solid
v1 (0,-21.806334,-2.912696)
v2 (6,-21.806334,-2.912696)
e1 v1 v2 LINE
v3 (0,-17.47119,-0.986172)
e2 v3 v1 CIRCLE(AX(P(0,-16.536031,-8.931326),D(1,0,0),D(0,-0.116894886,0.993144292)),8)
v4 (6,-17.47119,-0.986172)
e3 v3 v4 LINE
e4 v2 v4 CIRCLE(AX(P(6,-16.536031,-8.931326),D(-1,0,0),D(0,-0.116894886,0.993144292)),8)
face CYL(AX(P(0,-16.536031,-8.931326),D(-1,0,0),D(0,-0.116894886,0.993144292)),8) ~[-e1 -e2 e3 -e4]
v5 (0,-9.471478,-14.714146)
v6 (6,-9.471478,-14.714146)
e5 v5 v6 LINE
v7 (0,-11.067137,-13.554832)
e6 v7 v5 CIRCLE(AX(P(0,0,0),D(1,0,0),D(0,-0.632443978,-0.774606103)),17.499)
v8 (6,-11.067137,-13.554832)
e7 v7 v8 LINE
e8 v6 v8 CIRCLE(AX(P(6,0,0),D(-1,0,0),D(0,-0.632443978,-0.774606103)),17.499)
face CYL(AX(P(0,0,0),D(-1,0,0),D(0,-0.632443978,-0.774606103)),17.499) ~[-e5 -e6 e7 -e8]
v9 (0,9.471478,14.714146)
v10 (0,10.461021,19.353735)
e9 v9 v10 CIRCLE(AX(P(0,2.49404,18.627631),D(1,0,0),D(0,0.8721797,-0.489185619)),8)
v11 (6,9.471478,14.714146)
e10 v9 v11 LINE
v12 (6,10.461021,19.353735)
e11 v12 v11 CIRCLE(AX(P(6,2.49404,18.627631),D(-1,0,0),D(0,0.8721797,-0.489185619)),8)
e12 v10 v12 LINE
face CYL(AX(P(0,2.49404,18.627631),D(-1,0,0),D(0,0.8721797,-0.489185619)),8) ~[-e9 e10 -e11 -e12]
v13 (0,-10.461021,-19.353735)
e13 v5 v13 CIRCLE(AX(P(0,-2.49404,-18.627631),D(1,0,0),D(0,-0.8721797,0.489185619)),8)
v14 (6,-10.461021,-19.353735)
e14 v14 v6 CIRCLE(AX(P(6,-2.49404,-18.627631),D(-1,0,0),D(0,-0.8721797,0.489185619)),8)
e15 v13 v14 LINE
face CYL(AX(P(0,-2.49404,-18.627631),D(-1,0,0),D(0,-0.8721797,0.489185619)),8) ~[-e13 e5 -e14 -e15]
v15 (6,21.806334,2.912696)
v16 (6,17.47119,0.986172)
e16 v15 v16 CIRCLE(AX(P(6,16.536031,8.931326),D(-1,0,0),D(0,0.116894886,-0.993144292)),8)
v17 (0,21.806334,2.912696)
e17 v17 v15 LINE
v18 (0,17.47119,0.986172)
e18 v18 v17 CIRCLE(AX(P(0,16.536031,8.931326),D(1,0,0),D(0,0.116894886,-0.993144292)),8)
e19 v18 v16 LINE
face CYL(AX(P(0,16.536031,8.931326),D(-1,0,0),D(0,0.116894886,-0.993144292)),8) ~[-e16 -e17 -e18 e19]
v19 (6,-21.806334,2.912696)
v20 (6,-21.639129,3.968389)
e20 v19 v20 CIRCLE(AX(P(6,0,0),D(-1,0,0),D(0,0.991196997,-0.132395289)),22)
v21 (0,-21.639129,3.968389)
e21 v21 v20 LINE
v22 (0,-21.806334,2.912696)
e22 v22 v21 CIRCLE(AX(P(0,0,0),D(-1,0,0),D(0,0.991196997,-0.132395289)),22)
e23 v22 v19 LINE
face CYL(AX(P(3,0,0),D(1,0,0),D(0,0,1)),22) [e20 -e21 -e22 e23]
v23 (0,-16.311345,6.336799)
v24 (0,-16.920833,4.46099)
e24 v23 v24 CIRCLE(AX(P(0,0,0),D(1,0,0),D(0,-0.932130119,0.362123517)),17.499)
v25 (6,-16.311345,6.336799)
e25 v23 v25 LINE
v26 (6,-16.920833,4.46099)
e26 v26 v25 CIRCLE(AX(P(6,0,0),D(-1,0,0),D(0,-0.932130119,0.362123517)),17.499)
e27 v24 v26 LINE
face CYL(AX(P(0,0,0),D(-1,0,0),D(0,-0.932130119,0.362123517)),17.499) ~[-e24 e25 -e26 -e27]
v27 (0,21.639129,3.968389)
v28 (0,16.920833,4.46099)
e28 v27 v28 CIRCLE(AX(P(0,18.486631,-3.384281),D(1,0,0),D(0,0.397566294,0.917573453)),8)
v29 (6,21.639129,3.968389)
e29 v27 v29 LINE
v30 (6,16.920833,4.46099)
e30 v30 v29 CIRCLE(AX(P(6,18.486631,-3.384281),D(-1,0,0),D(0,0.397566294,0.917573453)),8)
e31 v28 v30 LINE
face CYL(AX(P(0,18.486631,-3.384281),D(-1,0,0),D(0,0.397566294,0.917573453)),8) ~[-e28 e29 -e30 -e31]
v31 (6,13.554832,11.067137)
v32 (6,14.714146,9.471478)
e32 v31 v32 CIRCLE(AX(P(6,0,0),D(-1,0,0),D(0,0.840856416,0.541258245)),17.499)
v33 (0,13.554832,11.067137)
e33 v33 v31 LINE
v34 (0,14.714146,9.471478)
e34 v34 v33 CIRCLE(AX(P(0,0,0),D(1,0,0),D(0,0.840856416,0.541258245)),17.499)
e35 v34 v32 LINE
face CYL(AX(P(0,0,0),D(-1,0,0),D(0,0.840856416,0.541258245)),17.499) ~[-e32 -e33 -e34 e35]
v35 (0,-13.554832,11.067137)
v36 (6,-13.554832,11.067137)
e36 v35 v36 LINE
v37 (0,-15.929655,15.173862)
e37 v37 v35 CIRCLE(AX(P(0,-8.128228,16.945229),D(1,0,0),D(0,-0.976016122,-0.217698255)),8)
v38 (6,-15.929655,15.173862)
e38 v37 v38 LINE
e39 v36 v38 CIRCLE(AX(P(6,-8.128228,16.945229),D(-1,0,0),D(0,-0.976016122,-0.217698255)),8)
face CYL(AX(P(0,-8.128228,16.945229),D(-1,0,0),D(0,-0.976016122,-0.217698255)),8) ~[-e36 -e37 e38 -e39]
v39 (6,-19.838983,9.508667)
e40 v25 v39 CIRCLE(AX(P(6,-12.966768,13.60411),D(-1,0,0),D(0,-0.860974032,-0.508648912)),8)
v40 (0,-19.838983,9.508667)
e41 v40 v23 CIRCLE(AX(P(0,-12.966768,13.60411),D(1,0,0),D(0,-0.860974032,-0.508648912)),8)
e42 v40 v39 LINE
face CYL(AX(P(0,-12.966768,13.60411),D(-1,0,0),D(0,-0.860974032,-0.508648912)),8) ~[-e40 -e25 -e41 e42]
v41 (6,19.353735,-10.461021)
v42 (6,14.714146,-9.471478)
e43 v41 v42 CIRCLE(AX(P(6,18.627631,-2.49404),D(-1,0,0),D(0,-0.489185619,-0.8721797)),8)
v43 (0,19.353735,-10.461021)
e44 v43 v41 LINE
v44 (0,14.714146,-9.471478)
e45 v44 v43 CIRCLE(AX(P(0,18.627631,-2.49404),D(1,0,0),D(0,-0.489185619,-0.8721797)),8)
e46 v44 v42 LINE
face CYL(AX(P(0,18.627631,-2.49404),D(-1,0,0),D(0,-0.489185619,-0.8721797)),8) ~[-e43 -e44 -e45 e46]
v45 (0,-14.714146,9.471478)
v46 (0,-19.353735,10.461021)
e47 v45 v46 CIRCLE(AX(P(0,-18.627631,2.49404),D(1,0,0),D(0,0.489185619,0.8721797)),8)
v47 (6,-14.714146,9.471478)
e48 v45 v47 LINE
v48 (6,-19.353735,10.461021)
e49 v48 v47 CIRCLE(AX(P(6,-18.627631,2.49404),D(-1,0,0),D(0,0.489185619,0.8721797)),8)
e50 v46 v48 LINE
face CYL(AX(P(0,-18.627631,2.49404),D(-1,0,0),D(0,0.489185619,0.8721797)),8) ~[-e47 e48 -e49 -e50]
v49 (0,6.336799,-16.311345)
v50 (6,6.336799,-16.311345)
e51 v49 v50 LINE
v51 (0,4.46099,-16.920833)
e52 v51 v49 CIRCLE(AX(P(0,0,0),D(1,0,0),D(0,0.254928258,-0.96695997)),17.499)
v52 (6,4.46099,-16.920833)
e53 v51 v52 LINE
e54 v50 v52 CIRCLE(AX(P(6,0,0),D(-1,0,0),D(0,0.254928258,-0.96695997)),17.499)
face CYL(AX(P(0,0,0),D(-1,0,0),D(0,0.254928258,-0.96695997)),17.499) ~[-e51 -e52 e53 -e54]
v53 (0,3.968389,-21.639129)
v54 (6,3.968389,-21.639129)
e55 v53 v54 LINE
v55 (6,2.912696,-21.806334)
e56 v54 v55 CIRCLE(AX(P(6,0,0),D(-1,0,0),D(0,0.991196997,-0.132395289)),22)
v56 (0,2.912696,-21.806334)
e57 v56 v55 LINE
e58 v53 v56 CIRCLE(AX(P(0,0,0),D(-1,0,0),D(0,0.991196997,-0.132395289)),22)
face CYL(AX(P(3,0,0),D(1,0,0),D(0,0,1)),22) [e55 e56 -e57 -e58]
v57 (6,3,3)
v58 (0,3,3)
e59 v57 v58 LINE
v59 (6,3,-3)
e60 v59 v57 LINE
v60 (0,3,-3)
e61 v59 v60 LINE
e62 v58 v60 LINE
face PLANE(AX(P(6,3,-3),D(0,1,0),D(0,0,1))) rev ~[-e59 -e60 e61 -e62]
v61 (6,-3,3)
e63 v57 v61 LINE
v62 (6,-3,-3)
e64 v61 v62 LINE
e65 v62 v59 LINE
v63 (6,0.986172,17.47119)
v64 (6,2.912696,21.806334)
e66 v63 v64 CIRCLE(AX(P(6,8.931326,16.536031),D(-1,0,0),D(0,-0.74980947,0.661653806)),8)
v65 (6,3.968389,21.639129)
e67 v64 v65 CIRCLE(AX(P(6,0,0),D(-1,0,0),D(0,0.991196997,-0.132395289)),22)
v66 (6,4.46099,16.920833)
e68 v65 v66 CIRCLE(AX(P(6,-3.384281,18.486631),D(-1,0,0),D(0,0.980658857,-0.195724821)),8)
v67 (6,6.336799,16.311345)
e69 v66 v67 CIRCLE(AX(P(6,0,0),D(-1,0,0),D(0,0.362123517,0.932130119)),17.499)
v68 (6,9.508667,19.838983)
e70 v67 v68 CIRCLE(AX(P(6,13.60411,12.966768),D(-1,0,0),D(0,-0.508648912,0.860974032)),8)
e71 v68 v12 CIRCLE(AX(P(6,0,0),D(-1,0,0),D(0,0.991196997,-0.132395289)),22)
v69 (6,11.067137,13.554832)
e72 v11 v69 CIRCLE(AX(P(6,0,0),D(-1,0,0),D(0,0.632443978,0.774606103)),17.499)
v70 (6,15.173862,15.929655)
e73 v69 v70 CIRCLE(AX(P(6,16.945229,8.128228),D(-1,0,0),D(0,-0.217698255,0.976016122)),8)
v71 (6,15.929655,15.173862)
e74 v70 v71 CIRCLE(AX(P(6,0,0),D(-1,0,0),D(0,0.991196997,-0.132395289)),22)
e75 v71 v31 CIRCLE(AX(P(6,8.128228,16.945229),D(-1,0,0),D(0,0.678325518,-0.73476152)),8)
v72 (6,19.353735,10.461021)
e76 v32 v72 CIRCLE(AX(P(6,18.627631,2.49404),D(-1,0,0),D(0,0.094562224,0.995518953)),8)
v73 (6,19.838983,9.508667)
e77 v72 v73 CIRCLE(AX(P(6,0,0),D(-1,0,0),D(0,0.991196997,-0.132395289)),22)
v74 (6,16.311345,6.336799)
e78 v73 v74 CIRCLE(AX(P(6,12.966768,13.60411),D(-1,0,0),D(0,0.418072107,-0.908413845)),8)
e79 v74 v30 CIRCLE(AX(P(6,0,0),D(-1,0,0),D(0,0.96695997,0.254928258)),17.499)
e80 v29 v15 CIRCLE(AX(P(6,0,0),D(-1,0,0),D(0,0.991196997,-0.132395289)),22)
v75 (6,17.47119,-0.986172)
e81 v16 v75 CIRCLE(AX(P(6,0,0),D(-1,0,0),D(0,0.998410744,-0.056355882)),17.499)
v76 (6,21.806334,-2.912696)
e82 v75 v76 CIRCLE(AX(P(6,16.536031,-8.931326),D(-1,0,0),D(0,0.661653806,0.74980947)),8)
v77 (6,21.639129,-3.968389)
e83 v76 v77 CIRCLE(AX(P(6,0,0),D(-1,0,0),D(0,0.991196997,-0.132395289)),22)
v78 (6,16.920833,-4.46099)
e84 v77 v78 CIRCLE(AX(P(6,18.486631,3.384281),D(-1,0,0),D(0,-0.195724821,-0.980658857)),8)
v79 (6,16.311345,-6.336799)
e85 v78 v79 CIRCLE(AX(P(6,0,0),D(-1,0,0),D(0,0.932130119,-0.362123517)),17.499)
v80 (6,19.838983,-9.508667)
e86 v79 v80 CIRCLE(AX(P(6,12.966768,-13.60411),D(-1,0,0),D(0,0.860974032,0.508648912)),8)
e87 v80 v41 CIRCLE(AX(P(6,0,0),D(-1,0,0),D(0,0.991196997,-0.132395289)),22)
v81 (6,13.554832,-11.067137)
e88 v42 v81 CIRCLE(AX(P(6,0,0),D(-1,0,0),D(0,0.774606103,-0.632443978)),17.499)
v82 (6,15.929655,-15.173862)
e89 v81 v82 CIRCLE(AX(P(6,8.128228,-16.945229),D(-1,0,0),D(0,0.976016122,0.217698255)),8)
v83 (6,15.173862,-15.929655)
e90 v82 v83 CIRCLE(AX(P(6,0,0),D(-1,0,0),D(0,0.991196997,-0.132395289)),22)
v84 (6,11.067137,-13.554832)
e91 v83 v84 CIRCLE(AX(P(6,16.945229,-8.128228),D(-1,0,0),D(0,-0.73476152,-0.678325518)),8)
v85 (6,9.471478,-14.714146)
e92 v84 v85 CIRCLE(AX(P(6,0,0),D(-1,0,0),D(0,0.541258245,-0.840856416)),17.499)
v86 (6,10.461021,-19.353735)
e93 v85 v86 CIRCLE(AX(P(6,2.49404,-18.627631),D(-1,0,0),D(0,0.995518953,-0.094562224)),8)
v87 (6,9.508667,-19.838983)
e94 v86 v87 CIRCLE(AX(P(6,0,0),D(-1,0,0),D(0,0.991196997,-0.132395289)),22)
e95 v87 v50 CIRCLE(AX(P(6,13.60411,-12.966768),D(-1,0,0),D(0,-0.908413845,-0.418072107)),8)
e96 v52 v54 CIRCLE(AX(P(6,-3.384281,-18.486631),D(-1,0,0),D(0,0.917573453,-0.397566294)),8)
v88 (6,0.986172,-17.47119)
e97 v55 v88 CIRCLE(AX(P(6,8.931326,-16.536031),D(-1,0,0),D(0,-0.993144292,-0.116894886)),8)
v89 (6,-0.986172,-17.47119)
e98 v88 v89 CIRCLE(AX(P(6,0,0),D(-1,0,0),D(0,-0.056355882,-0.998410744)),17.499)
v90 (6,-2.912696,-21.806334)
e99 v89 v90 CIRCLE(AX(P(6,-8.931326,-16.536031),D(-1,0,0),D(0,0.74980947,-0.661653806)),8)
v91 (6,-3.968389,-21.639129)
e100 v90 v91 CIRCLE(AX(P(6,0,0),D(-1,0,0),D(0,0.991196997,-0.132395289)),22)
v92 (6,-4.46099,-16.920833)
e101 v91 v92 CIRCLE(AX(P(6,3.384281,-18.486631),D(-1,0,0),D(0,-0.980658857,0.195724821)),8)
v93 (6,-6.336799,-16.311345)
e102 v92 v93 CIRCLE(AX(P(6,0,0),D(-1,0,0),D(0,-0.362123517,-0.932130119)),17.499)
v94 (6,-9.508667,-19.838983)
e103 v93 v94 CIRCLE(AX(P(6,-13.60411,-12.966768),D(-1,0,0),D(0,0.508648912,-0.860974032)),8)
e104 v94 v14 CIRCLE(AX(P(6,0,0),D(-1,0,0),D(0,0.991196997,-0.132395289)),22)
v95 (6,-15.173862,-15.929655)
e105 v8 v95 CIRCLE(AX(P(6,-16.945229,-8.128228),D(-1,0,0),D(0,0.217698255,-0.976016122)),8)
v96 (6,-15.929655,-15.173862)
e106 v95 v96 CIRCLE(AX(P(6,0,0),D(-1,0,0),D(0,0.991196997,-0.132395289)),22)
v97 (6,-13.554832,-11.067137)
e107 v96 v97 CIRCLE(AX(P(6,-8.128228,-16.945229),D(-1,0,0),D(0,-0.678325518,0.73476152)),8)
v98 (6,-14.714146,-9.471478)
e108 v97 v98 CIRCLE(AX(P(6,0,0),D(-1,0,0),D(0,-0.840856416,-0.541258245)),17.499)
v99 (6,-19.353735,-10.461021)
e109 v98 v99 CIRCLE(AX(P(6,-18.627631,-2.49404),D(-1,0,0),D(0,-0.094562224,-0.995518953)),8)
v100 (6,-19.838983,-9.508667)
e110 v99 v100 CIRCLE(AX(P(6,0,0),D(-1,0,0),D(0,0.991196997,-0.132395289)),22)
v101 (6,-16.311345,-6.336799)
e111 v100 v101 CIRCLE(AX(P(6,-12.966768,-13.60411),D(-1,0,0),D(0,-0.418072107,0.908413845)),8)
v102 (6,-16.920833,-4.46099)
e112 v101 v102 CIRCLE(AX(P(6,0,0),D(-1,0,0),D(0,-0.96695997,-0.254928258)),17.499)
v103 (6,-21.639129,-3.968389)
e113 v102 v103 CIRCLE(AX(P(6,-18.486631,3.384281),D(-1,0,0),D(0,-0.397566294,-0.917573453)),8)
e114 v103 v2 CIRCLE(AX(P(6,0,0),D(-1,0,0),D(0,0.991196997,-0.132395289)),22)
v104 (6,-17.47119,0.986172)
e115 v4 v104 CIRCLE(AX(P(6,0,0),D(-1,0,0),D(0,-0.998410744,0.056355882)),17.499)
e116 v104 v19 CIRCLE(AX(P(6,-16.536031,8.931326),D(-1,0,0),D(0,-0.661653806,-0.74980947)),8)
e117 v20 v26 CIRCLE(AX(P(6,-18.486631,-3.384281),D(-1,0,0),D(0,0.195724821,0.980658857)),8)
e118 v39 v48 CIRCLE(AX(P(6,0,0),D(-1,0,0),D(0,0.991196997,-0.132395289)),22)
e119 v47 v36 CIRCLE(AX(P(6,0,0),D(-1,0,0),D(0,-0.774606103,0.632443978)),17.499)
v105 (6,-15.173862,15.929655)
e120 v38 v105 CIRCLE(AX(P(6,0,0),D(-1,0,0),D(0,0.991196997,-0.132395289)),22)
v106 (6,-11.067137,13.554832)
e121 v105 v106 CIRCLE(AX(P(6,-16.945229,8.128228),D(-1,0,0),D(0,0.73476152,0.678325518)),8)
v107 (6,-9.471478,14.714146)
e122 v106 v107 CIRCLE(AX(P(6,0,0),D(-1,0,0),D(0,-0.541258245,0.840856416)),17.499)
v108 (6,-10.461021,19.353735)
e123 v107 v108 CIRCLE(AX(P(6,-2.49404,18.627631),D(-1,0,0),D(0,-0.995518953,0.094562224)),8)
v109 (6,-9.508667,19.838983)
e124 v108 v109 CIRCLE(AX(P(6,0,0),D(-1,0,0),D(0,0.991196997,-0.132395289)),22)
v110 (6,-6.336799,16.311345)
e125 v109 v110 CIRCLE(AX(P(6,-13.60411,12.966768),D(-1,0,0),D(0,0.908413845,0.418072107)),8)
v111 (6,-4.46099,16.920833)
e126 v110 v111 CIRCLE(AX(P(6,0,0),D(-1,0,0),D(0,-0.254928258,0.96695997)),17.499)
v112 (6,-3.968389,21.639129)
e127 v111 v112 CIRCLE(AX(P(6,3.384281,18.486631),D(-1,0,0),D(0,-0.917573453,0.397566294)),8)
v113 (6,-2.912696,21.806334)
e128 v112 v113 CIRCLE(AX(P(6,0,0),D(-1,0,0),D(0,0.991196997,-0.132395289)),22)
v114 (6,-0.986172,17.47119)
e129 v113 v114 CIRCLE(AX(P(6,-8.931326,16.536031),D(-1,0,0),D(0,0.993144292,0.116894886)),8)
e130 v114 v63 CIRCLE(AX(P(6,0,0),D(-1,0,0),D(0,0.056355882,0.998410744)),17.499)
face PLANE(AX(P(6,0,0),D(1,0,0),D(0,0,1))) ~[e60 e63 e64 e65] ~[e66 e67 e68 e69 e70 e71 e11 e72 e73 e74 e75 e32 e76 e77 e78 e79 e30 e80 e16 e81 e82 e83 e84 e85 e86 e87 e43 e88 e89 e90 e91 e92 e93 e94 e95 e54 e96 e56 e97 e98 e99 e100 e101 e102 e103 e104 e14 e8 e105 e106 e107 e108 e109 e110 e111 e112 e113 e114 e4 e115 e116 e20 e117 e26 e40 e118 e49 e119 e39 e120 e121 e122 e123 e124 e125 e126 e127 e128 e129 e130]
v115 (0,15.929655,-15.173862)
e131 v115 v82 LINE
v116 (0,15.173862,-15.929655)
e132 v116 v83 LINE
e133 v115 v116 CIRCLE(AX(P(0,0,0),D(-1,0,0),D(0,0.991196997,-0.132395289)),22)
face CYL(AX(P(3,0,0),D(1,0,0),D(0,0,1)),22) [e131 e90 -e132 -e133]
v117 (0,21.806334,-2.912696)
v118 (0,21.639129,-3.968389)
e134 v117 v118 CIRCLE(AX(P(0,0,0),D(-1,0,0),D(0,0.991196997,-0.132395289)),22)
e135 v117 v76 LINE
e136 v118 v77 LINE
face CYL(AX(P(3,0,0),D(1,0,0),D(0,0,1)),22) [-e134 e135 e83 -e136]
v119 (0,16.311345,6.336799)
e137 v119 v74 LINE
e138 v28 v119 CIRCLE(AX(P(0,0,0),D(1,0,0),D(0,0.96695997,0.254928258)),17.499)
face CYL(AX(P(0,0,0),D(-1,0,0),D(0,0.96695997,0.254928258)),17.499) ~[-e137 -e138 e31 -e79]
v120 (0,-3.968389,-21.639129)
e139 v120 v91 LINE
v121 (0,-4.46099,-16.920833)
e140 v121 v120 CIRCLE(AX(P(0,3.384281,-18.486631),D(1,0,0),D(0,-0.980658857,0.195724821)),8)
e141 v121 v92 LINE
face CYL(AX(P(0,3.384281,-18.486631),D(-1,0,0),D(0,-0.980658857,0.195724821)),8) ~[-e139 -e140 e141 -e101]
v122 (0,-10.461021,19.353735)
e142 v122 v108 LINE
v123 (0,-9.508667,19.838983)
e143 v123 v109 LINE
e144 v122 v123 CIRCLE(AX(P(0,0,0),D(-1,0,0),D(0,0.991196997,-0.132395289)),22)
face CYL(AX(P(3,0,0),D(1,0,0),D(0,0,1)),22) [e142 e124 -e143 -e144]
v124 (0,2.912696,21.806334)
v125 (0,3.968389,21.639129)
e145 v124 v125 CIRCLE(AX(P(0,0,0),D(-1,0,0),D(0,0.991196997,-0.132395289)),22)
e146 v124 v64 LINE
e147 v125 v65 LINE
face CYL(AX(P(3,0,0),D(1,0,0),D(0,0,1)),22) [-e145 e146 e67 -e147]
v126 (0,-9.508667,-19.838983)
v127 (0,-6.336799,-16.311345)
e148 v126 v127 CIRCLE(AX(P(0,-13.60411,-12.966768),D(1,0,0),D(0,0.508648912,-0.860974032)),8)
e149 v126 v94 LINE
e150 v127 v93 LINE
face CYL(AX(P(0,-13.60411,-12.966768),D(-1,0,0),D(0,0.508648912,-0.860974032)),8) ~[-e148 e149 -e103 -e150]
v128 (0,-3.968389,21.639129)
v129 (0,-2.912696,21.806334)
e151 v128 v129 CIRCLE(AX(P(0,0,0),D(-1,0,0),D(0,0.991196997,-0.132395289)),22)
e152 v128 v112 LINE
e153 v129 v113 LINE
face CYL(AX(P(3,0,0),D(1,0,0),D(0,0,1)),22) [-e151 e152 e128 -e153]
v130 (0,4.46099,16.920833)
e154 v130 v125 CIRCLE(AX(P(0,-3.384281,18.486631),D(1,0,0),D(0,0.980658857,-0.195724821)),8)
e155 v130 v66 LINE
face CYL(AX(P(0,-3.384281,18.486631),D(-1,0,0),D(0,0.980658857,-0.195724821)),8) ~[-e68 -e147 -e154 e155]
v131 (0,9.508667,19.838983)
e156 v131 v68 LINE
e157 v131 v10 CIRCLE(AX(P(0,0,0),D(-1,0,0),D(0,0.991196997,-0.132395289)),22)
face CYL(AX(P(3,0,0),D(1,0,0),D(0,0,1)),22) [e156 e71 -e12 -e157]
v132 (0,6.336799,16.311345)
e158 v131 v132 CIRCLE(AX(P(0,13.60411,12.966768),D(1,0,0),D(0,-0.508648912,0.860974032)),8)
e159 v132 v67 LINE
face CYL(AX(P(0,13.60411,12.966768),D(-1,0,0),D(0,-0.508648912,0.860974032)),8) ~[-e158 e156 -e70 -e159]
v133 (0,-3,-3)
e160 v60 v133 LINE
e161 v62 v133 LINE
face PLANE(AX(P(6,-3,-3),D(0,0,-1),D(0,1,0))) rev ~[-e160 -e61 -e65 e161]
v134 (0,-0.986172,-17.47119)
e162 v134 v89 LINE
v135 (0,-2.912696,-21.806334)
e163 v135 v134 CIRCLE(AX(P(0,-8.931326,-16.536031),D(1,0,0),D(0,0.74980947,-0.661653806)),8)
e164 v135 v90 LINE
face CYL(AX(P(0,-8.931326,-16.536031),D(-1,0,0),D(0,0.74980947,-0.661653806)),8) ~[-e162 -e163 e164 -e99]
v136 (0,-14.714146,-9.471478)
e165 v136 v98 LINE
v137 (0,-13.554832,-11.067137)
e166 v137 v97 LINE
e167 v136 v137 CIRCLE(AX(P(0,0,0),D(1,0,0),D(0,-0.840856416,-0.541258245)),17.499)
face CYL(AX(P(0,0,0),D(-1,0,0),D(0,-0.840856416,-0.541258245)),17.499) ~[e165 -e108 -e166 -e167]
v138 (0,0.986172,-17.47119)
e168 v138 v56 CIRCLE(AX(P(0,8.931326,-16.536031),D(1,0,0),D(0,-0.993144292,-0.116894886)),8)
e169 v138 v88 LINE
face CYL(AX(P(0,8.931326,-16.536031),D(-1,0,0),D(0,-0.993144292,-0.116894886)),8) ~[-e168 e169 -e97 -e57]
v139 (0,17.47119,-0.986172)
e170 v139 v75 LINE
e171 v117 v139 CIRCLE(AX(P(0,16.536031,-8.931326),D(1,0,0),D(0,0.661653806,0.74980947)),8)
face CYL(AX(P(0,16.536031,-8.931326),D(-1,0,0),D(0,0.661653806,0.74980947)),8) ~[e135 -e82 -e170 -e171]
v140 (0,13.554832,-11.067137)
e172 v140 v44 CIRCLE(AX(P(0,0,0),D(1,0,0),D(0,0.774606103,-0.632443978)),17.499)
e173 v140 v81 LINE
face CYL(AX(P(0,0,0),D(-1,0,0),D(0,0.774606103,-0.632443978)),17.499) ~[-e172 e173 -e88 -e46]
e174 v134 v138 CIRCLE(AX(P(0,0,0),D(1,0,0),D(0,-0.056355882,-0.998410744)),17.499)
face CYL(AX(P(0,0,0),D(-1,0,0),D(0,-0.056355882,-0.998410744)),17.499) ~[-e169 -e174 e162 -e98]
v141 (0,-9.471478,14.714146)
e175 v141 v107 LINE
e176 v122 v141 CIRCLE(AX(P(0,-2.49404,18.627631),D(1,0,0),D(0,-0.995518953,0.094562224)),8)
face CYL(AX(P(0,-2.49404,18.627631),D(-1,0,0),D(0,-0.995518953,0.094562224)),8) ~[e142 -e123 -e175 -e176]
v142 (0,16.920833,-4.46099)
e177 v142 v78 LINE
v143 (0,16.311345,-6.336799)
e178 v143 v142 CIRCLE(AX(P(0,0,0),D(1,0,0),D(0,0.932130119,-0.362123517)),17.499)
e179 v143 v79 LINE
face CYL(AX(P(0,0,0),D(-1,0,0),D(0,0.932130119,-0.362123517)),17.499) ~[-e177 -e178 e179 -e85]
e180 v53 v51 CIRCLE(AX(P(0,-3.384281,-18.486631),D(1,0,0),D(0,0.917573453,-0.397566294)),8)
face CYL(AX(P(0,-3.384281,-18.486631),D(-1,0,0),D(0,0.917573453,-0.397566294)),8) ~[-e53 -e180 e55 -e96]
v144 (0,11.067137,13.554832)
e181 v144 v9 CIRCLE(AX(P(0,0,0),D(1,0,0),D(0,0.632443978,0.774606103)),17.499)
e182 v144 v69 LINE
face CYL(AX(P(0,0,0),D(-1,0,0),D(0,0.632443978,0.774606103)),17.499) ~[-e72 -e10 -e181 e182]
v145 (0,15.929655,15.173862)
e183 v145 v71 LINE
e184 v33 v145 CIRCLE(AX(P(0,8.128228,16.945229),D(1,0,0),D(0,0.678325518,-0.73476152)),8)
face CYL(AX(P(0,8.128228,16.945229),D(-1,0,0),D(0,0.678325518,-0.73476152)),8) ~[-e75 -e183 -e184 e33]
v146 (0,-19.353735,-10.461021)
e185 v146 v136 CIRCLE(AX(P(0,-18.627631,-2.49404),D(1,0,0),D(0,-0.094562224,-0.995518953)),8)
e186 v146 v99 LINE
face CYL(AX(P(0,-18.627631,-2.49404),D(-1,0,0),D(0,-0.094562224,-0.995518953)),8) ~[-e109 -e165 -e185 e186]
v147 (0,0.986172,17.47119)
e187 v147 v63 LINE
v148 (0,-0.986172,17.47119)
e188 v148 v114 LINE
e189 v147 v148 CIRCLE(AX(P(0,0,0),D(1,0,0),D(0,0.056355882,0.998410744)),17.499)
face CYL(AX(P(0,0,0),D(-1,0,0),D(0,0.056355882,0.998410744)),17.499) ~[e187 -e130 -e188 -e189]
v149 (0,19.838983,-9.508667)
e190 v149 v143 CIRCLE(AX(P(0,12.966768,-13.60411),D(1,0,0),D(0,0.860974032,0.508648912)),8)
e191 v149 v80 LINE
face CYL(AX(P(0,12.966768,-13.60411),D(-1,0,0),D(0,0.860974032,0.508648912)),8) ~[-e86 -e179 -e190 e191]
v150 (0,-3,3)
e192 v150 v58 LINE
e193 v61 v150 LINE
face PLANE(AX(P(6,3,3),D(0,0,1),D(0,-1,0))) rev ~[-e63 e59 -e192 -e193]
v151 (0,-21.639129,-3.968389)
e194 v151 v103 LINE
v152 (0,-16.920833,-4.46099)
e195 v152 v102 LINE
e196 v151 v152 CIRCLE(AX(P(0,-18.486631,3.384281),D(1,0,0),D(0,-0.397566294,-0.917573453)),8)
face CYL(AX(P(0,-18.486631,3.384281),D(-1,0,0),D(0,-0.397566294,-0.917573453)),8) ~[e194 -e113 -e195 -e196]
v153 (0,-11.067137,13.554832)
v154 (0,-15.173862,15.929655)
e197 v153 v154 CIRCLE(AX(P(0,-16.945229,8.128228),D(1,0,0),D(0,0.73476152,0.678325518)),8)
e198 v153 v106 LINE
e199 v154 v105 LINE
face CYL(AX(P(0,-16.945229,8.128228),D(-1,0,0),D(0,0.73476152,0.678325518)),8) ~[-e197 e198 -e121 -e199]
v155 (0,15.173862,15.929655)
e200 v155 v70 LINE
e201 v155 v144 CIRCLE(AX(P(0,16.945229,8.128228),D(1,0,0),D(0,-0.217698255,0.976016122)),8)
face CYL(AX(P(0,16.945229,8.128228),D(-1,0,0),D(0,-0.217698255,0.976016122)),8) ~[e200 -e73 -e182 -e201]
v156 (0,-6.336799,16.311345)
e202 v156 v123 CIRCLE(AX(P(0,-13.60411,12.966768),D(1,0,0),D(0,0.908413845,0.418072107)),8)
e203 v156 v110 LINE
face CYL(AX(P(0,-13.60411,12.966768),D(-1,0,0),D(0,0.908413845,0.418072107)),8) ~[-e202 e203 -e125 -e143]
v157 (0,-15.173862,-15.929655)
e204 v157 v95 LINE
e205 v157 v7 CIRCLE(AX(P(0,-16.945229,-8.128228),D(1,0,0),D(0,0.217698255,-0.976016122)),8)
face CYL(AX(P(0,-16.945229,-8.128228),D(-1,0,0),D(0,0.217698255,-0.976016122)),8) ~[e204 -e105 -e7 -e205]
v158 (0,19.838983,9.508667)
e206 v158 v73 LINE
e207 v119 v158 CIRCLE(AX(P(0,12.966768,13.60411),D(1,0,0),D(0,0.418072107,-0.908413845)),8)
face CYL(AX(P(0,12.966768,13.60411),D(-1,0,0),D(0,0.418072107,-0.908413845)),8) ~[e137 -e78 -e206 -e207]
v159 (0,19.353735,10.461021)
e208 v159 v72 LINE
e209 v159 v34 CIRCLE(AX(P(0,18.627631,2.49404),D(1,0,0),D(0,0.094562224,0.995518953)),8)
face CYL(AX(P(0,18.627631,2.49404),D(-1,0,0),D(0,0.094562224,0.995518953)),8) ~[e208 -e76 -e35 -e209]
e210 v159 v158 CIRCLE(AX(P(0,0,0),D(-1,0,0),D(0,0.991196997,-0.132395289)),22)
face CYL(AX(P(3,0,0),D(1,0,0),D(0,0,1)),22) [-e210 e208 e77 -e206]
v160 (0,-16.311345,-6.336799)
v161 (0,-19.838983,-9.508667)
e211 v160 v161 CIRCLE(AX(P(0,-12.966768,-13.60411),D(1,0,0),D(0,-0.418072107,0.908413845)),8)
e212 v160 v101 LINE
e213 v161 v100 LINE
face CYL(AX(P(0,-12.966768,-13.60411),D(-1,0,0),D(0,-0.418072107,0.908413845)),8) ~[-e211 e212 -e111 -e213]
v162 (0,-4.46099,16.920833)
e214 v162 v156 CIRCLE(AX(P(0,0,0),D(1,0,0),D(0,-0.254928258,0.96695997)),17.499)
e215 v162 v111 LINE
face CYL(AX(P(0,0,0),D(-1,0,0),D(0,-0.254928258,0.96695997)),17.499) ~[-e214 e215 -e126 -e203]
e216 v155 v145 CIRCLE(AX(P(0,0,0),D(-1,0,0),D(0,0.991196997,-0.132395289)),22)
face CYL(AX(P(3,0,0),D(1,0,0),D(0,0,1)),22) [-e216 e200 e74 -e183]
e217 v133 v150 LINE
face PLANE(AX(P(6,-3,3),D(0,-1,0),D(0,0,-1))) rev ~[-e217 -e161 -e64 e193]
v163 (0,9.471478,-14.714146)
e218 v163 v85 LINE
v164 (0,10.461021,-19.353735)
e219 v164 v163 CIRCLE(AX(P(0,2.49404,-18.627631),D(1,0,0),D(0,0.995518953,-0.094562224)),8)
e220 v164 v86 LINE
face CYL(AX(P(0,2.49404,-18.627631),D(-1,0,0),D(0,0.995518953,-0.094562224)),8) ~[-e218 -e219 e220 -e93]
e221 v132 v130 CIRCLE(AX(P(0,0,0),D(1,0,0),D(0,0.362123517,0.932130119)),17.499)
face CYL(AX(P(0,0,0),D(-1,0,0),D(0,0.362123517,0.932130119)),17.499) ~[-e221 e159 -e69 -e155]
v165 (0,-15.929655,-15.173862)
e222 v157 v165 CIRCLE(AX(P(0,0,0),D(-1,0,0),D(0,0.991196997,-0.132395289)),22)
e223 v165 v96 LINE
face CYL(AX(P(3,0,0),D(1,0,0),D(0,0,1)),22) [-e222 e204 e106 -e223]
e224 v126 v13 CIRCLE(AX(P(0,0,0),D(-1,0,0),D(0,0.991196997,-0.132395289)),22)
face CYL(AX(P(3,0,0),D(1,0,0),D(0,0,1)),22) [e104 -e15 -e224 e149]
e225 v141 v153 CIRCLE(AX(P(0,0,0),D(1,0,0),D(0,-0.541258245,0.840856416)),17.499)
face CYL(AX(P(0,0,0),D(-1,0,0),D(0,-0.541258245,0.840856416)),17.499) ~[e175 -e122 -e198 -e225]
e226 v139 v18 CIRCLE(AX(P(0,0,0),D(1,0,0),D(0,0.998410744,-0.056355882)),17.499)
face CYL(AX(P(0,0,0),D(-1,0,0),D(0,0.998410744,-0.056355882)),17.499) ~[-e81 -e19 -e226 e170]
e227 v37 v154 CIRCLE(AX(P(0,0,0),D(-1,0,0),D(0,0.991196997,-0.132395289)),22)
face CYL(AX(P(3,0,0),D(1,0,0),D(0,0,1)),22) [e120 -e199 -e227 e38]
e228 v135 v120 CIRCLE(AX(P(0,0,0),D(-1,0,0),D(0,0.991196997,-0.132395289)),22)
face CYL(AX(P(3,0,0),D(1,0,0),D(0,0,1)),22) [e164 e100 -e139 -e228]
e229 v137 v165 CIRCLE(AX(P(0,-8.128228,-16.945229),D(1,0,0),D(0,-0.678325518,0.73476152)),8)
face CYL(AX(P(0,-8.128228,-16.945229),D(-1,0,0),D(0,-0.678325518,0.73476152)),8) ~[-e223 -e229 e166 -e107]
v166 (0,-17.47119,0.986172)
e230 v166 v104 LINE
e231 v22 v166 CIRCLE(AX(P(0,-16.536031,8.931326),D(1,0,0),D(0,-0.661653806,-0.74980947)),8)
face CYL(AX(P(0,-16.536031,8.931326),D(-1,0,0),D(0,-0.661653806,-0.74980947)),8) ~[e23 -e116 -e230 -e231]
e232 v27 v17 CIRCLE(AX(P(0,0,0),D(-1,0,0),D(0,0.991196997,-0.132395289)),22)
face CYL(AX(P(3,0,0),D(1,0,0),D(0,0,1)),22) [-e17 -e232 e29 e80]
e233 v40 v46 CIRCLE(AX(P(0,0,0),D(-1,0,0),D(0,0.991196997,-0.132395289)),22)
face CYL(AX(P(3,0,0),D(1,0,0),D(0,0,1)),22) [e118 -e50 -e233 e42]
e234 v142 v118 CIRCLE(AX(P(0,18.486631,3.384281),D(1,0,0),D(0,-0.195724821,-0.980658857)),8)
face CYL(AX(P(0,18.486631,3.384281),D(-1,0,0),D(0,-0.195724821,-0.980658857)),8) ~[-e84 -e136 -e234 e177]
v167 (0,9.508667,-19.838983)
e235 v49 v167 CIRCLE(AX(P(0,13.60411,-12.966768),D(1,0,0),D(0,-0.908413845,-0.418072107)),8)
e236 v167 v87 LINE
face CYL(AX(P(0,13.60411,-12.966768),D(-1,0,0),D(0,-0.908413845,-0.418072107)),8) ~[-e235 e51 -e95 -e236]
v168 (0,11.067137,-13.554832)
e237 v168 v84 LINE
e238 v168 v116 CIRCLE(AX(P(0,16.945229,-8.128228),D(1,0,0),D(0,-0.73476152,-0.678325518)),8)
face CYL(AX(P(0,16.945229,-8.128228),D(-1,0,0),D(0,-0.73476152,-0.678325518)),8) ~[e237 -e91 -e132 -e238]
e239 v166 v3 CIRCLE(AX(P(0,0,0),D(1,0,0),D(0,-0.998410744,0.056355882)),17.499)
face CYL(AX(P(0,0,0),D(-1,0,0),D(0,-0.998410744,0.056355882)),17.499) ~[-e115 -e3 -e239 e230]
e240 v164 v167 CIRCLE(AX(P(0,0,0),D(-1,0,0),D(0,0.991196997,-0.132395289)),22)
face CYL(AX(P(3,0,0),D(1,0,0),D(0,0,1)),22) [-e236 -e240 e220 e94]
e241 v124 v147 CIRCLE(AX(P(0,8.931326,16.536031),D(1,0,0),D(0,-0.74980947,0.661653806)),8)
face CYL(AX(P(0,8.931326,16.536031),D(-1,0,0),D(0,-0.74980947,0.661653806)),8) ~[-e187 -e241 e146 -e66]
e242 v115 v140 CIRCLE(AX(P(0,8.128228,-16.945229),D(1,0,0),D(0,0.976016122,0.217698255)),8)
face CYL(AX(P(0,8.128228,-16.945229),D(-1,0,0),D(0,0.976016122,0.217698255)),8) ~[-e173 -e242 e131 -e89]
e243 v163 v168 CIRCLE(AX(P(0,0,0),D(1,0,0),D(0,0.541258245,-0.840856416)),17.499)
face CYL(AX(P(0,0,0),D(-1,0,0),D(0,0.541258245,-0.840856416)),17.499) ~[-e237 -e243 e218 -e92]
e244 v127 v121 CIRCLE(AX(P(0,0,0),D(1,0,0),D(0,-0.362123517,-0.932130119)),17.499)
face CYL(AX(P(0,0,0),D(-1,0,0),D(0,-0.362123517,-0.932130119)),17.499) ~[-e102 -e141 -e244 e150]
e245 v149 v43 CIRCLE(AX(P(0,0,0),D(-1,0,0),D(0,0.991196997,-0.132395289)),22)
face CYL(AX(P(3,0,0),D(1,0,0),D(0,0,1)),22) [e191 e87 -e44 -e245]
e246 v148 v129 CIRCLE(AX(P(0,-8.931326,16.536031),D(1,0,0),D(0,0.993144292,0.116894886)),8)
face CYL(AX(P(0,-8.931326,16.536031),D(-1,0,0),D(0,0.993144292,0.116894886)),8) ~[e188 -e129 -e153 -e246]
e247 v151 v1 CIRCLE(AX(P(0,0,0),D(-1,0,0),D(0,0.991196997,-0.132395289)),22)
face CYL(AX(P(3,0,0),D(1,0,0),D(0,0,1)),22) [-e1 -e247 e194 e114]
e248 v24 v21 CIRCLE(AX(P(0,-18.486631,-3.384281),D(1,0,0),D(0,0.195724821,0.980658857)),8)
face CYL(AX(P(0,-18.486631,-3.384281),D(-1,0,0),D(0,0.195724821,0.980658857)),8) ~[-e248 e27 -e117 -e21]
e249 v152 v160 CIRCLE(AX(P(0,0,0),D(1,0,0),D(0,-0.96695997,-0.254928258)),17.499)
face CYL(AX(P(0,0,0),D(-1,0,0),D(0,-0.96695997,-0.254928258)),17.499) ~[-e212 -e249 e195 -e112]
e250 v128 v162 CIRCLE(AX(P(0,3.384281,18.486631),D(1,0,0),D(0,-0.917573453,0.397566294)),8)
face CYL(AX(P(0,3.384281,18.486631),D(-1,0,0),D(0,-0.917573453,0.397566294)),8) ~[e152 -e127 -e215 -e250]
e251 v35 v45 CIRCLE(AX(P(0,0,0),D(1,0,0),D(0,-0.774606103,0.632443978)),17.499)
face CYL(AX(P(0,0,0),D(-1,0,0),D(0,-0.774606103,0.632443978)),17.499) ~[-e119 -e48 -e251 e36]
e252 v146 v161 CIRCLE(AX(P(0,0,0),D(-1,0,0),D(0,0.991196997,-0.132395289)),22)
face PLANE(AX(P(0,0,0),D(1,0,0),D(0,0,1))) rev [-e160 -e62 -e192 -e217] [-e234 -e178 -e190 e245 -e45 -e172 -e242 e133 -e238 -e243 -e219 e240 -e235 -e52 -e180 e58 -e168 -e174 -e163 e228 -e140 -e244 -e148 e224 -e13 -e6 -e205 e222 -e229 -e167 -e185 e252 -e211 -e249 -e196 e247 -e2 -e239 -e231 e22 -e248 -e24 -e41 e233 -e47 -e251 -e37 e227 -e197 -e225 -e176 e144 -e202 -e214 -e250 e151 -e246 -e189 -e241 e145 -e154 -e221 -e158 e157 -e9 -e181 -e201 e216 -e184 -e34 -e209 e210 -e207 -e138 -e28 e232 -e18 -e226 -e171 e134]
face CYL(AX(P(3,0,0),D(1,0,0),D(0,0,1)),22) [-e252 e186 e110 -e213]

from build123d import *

# Parameters (mm, degrees)
BASPROSKE_W           = 6
BASPROSKE_H           = 22
TOOTHCUT_DEPTH        = 32.685959036
TEETHCUTS_COUNT       = 20
TEETHCUTS_ANGLE       = 342
BORSKE_R              = 0.5
BORE_DEPTH            = 50.0000508
CORTAR_EXTRUIR1_DEPTH = 10


with BuildPart() as part:
    # BasProSke → Base-Revolve (revolve)
    with BuildSketch(Plane(origin=(0, 0, 0), x_dir=(1, 0, 0), z_dir=(0, 1, 0)), mode=Mode.PRIVATE) as base_revolve_sk:
        with Locations((3, 11)):
            Rectangle(BASPROSKE_W, BASPROSKE_H)
    revolve(base_revolve_sk.sketch.rotate(Axis((-10, 0, 0), (1, 0, 0)), 180), axis=Axis((-10, 0, 0), (1, 0, 0)))

    # TooCutSke → ToothCut (cut, through all)
    with BuildSketch(Plane(origin=(0, 0, 0), x_dir=(0, 0, -1), z_dir=(1, 0, 0))):
        with BuildLine():
            ThreePointArc((0.986171591, 17.471189616), (0, 17.499), (-0.986171591, 17.471189616))
            ThreePointArc((-0.986171591, 17.471189616), (-1.626916196, 19.798789858), (-2.932850173, 21.829260982))
            ThreePointArc((-2.932850173, 21.829260982), (0, 22.0254), (2.932850173, 21.829260982))
            ThreePointArc((2.932850173, 21.829260982), (1.626916196, 19.798789858), (0.986171591, 17.471189616))
        make_face()
    toothcut = extrude(amount=TOOTHCUT_DEPTH, mode=Mode.SUBTRACT)

    # TeethCuts: ToothCut ×20 about axis
    teethcuts_axis = Axis((-10, 0, 0), (1, 0, 0))
    for i in range(1, TEETHCUTS_COUNT):
        add(toothcut.rotate(teethcuts_axis, i * TEETHCUTS_ANGLE / (TEETHCUTS_COUNT - 1)), mode=Mode.SUBTRACT)

    # BorSke → Bore (cut, symmetric)
    with BuildSketch(Plane(origin=(0, 0, 0), x_dir=(0, 0, -1), z_dir=(1, 0, 0))):
        with Locations(Location((0, 0, 0), (0, 0, 180))):
            Circle(BORSKE_R)
    extrude(amount=BORE_DEPTH, both=True, mode=Mode.SUBTRACT)

    # Croquis1 → Cortar-Extruir1 (cut)
    with BuildSketch(Plane(origin=(6, 0, 0), x_dir=(0, 0, -1), z_dir=(1, 0, 0))):
        Polygon((0, 3), (-3, 3), (-3, -3), (3, -3), (3, 3), align=None)
    extrude(amount=-CORTAR_EXTRUIR1_DEPTH, mode=Mode.SUBTRACT)


solid = part.part
